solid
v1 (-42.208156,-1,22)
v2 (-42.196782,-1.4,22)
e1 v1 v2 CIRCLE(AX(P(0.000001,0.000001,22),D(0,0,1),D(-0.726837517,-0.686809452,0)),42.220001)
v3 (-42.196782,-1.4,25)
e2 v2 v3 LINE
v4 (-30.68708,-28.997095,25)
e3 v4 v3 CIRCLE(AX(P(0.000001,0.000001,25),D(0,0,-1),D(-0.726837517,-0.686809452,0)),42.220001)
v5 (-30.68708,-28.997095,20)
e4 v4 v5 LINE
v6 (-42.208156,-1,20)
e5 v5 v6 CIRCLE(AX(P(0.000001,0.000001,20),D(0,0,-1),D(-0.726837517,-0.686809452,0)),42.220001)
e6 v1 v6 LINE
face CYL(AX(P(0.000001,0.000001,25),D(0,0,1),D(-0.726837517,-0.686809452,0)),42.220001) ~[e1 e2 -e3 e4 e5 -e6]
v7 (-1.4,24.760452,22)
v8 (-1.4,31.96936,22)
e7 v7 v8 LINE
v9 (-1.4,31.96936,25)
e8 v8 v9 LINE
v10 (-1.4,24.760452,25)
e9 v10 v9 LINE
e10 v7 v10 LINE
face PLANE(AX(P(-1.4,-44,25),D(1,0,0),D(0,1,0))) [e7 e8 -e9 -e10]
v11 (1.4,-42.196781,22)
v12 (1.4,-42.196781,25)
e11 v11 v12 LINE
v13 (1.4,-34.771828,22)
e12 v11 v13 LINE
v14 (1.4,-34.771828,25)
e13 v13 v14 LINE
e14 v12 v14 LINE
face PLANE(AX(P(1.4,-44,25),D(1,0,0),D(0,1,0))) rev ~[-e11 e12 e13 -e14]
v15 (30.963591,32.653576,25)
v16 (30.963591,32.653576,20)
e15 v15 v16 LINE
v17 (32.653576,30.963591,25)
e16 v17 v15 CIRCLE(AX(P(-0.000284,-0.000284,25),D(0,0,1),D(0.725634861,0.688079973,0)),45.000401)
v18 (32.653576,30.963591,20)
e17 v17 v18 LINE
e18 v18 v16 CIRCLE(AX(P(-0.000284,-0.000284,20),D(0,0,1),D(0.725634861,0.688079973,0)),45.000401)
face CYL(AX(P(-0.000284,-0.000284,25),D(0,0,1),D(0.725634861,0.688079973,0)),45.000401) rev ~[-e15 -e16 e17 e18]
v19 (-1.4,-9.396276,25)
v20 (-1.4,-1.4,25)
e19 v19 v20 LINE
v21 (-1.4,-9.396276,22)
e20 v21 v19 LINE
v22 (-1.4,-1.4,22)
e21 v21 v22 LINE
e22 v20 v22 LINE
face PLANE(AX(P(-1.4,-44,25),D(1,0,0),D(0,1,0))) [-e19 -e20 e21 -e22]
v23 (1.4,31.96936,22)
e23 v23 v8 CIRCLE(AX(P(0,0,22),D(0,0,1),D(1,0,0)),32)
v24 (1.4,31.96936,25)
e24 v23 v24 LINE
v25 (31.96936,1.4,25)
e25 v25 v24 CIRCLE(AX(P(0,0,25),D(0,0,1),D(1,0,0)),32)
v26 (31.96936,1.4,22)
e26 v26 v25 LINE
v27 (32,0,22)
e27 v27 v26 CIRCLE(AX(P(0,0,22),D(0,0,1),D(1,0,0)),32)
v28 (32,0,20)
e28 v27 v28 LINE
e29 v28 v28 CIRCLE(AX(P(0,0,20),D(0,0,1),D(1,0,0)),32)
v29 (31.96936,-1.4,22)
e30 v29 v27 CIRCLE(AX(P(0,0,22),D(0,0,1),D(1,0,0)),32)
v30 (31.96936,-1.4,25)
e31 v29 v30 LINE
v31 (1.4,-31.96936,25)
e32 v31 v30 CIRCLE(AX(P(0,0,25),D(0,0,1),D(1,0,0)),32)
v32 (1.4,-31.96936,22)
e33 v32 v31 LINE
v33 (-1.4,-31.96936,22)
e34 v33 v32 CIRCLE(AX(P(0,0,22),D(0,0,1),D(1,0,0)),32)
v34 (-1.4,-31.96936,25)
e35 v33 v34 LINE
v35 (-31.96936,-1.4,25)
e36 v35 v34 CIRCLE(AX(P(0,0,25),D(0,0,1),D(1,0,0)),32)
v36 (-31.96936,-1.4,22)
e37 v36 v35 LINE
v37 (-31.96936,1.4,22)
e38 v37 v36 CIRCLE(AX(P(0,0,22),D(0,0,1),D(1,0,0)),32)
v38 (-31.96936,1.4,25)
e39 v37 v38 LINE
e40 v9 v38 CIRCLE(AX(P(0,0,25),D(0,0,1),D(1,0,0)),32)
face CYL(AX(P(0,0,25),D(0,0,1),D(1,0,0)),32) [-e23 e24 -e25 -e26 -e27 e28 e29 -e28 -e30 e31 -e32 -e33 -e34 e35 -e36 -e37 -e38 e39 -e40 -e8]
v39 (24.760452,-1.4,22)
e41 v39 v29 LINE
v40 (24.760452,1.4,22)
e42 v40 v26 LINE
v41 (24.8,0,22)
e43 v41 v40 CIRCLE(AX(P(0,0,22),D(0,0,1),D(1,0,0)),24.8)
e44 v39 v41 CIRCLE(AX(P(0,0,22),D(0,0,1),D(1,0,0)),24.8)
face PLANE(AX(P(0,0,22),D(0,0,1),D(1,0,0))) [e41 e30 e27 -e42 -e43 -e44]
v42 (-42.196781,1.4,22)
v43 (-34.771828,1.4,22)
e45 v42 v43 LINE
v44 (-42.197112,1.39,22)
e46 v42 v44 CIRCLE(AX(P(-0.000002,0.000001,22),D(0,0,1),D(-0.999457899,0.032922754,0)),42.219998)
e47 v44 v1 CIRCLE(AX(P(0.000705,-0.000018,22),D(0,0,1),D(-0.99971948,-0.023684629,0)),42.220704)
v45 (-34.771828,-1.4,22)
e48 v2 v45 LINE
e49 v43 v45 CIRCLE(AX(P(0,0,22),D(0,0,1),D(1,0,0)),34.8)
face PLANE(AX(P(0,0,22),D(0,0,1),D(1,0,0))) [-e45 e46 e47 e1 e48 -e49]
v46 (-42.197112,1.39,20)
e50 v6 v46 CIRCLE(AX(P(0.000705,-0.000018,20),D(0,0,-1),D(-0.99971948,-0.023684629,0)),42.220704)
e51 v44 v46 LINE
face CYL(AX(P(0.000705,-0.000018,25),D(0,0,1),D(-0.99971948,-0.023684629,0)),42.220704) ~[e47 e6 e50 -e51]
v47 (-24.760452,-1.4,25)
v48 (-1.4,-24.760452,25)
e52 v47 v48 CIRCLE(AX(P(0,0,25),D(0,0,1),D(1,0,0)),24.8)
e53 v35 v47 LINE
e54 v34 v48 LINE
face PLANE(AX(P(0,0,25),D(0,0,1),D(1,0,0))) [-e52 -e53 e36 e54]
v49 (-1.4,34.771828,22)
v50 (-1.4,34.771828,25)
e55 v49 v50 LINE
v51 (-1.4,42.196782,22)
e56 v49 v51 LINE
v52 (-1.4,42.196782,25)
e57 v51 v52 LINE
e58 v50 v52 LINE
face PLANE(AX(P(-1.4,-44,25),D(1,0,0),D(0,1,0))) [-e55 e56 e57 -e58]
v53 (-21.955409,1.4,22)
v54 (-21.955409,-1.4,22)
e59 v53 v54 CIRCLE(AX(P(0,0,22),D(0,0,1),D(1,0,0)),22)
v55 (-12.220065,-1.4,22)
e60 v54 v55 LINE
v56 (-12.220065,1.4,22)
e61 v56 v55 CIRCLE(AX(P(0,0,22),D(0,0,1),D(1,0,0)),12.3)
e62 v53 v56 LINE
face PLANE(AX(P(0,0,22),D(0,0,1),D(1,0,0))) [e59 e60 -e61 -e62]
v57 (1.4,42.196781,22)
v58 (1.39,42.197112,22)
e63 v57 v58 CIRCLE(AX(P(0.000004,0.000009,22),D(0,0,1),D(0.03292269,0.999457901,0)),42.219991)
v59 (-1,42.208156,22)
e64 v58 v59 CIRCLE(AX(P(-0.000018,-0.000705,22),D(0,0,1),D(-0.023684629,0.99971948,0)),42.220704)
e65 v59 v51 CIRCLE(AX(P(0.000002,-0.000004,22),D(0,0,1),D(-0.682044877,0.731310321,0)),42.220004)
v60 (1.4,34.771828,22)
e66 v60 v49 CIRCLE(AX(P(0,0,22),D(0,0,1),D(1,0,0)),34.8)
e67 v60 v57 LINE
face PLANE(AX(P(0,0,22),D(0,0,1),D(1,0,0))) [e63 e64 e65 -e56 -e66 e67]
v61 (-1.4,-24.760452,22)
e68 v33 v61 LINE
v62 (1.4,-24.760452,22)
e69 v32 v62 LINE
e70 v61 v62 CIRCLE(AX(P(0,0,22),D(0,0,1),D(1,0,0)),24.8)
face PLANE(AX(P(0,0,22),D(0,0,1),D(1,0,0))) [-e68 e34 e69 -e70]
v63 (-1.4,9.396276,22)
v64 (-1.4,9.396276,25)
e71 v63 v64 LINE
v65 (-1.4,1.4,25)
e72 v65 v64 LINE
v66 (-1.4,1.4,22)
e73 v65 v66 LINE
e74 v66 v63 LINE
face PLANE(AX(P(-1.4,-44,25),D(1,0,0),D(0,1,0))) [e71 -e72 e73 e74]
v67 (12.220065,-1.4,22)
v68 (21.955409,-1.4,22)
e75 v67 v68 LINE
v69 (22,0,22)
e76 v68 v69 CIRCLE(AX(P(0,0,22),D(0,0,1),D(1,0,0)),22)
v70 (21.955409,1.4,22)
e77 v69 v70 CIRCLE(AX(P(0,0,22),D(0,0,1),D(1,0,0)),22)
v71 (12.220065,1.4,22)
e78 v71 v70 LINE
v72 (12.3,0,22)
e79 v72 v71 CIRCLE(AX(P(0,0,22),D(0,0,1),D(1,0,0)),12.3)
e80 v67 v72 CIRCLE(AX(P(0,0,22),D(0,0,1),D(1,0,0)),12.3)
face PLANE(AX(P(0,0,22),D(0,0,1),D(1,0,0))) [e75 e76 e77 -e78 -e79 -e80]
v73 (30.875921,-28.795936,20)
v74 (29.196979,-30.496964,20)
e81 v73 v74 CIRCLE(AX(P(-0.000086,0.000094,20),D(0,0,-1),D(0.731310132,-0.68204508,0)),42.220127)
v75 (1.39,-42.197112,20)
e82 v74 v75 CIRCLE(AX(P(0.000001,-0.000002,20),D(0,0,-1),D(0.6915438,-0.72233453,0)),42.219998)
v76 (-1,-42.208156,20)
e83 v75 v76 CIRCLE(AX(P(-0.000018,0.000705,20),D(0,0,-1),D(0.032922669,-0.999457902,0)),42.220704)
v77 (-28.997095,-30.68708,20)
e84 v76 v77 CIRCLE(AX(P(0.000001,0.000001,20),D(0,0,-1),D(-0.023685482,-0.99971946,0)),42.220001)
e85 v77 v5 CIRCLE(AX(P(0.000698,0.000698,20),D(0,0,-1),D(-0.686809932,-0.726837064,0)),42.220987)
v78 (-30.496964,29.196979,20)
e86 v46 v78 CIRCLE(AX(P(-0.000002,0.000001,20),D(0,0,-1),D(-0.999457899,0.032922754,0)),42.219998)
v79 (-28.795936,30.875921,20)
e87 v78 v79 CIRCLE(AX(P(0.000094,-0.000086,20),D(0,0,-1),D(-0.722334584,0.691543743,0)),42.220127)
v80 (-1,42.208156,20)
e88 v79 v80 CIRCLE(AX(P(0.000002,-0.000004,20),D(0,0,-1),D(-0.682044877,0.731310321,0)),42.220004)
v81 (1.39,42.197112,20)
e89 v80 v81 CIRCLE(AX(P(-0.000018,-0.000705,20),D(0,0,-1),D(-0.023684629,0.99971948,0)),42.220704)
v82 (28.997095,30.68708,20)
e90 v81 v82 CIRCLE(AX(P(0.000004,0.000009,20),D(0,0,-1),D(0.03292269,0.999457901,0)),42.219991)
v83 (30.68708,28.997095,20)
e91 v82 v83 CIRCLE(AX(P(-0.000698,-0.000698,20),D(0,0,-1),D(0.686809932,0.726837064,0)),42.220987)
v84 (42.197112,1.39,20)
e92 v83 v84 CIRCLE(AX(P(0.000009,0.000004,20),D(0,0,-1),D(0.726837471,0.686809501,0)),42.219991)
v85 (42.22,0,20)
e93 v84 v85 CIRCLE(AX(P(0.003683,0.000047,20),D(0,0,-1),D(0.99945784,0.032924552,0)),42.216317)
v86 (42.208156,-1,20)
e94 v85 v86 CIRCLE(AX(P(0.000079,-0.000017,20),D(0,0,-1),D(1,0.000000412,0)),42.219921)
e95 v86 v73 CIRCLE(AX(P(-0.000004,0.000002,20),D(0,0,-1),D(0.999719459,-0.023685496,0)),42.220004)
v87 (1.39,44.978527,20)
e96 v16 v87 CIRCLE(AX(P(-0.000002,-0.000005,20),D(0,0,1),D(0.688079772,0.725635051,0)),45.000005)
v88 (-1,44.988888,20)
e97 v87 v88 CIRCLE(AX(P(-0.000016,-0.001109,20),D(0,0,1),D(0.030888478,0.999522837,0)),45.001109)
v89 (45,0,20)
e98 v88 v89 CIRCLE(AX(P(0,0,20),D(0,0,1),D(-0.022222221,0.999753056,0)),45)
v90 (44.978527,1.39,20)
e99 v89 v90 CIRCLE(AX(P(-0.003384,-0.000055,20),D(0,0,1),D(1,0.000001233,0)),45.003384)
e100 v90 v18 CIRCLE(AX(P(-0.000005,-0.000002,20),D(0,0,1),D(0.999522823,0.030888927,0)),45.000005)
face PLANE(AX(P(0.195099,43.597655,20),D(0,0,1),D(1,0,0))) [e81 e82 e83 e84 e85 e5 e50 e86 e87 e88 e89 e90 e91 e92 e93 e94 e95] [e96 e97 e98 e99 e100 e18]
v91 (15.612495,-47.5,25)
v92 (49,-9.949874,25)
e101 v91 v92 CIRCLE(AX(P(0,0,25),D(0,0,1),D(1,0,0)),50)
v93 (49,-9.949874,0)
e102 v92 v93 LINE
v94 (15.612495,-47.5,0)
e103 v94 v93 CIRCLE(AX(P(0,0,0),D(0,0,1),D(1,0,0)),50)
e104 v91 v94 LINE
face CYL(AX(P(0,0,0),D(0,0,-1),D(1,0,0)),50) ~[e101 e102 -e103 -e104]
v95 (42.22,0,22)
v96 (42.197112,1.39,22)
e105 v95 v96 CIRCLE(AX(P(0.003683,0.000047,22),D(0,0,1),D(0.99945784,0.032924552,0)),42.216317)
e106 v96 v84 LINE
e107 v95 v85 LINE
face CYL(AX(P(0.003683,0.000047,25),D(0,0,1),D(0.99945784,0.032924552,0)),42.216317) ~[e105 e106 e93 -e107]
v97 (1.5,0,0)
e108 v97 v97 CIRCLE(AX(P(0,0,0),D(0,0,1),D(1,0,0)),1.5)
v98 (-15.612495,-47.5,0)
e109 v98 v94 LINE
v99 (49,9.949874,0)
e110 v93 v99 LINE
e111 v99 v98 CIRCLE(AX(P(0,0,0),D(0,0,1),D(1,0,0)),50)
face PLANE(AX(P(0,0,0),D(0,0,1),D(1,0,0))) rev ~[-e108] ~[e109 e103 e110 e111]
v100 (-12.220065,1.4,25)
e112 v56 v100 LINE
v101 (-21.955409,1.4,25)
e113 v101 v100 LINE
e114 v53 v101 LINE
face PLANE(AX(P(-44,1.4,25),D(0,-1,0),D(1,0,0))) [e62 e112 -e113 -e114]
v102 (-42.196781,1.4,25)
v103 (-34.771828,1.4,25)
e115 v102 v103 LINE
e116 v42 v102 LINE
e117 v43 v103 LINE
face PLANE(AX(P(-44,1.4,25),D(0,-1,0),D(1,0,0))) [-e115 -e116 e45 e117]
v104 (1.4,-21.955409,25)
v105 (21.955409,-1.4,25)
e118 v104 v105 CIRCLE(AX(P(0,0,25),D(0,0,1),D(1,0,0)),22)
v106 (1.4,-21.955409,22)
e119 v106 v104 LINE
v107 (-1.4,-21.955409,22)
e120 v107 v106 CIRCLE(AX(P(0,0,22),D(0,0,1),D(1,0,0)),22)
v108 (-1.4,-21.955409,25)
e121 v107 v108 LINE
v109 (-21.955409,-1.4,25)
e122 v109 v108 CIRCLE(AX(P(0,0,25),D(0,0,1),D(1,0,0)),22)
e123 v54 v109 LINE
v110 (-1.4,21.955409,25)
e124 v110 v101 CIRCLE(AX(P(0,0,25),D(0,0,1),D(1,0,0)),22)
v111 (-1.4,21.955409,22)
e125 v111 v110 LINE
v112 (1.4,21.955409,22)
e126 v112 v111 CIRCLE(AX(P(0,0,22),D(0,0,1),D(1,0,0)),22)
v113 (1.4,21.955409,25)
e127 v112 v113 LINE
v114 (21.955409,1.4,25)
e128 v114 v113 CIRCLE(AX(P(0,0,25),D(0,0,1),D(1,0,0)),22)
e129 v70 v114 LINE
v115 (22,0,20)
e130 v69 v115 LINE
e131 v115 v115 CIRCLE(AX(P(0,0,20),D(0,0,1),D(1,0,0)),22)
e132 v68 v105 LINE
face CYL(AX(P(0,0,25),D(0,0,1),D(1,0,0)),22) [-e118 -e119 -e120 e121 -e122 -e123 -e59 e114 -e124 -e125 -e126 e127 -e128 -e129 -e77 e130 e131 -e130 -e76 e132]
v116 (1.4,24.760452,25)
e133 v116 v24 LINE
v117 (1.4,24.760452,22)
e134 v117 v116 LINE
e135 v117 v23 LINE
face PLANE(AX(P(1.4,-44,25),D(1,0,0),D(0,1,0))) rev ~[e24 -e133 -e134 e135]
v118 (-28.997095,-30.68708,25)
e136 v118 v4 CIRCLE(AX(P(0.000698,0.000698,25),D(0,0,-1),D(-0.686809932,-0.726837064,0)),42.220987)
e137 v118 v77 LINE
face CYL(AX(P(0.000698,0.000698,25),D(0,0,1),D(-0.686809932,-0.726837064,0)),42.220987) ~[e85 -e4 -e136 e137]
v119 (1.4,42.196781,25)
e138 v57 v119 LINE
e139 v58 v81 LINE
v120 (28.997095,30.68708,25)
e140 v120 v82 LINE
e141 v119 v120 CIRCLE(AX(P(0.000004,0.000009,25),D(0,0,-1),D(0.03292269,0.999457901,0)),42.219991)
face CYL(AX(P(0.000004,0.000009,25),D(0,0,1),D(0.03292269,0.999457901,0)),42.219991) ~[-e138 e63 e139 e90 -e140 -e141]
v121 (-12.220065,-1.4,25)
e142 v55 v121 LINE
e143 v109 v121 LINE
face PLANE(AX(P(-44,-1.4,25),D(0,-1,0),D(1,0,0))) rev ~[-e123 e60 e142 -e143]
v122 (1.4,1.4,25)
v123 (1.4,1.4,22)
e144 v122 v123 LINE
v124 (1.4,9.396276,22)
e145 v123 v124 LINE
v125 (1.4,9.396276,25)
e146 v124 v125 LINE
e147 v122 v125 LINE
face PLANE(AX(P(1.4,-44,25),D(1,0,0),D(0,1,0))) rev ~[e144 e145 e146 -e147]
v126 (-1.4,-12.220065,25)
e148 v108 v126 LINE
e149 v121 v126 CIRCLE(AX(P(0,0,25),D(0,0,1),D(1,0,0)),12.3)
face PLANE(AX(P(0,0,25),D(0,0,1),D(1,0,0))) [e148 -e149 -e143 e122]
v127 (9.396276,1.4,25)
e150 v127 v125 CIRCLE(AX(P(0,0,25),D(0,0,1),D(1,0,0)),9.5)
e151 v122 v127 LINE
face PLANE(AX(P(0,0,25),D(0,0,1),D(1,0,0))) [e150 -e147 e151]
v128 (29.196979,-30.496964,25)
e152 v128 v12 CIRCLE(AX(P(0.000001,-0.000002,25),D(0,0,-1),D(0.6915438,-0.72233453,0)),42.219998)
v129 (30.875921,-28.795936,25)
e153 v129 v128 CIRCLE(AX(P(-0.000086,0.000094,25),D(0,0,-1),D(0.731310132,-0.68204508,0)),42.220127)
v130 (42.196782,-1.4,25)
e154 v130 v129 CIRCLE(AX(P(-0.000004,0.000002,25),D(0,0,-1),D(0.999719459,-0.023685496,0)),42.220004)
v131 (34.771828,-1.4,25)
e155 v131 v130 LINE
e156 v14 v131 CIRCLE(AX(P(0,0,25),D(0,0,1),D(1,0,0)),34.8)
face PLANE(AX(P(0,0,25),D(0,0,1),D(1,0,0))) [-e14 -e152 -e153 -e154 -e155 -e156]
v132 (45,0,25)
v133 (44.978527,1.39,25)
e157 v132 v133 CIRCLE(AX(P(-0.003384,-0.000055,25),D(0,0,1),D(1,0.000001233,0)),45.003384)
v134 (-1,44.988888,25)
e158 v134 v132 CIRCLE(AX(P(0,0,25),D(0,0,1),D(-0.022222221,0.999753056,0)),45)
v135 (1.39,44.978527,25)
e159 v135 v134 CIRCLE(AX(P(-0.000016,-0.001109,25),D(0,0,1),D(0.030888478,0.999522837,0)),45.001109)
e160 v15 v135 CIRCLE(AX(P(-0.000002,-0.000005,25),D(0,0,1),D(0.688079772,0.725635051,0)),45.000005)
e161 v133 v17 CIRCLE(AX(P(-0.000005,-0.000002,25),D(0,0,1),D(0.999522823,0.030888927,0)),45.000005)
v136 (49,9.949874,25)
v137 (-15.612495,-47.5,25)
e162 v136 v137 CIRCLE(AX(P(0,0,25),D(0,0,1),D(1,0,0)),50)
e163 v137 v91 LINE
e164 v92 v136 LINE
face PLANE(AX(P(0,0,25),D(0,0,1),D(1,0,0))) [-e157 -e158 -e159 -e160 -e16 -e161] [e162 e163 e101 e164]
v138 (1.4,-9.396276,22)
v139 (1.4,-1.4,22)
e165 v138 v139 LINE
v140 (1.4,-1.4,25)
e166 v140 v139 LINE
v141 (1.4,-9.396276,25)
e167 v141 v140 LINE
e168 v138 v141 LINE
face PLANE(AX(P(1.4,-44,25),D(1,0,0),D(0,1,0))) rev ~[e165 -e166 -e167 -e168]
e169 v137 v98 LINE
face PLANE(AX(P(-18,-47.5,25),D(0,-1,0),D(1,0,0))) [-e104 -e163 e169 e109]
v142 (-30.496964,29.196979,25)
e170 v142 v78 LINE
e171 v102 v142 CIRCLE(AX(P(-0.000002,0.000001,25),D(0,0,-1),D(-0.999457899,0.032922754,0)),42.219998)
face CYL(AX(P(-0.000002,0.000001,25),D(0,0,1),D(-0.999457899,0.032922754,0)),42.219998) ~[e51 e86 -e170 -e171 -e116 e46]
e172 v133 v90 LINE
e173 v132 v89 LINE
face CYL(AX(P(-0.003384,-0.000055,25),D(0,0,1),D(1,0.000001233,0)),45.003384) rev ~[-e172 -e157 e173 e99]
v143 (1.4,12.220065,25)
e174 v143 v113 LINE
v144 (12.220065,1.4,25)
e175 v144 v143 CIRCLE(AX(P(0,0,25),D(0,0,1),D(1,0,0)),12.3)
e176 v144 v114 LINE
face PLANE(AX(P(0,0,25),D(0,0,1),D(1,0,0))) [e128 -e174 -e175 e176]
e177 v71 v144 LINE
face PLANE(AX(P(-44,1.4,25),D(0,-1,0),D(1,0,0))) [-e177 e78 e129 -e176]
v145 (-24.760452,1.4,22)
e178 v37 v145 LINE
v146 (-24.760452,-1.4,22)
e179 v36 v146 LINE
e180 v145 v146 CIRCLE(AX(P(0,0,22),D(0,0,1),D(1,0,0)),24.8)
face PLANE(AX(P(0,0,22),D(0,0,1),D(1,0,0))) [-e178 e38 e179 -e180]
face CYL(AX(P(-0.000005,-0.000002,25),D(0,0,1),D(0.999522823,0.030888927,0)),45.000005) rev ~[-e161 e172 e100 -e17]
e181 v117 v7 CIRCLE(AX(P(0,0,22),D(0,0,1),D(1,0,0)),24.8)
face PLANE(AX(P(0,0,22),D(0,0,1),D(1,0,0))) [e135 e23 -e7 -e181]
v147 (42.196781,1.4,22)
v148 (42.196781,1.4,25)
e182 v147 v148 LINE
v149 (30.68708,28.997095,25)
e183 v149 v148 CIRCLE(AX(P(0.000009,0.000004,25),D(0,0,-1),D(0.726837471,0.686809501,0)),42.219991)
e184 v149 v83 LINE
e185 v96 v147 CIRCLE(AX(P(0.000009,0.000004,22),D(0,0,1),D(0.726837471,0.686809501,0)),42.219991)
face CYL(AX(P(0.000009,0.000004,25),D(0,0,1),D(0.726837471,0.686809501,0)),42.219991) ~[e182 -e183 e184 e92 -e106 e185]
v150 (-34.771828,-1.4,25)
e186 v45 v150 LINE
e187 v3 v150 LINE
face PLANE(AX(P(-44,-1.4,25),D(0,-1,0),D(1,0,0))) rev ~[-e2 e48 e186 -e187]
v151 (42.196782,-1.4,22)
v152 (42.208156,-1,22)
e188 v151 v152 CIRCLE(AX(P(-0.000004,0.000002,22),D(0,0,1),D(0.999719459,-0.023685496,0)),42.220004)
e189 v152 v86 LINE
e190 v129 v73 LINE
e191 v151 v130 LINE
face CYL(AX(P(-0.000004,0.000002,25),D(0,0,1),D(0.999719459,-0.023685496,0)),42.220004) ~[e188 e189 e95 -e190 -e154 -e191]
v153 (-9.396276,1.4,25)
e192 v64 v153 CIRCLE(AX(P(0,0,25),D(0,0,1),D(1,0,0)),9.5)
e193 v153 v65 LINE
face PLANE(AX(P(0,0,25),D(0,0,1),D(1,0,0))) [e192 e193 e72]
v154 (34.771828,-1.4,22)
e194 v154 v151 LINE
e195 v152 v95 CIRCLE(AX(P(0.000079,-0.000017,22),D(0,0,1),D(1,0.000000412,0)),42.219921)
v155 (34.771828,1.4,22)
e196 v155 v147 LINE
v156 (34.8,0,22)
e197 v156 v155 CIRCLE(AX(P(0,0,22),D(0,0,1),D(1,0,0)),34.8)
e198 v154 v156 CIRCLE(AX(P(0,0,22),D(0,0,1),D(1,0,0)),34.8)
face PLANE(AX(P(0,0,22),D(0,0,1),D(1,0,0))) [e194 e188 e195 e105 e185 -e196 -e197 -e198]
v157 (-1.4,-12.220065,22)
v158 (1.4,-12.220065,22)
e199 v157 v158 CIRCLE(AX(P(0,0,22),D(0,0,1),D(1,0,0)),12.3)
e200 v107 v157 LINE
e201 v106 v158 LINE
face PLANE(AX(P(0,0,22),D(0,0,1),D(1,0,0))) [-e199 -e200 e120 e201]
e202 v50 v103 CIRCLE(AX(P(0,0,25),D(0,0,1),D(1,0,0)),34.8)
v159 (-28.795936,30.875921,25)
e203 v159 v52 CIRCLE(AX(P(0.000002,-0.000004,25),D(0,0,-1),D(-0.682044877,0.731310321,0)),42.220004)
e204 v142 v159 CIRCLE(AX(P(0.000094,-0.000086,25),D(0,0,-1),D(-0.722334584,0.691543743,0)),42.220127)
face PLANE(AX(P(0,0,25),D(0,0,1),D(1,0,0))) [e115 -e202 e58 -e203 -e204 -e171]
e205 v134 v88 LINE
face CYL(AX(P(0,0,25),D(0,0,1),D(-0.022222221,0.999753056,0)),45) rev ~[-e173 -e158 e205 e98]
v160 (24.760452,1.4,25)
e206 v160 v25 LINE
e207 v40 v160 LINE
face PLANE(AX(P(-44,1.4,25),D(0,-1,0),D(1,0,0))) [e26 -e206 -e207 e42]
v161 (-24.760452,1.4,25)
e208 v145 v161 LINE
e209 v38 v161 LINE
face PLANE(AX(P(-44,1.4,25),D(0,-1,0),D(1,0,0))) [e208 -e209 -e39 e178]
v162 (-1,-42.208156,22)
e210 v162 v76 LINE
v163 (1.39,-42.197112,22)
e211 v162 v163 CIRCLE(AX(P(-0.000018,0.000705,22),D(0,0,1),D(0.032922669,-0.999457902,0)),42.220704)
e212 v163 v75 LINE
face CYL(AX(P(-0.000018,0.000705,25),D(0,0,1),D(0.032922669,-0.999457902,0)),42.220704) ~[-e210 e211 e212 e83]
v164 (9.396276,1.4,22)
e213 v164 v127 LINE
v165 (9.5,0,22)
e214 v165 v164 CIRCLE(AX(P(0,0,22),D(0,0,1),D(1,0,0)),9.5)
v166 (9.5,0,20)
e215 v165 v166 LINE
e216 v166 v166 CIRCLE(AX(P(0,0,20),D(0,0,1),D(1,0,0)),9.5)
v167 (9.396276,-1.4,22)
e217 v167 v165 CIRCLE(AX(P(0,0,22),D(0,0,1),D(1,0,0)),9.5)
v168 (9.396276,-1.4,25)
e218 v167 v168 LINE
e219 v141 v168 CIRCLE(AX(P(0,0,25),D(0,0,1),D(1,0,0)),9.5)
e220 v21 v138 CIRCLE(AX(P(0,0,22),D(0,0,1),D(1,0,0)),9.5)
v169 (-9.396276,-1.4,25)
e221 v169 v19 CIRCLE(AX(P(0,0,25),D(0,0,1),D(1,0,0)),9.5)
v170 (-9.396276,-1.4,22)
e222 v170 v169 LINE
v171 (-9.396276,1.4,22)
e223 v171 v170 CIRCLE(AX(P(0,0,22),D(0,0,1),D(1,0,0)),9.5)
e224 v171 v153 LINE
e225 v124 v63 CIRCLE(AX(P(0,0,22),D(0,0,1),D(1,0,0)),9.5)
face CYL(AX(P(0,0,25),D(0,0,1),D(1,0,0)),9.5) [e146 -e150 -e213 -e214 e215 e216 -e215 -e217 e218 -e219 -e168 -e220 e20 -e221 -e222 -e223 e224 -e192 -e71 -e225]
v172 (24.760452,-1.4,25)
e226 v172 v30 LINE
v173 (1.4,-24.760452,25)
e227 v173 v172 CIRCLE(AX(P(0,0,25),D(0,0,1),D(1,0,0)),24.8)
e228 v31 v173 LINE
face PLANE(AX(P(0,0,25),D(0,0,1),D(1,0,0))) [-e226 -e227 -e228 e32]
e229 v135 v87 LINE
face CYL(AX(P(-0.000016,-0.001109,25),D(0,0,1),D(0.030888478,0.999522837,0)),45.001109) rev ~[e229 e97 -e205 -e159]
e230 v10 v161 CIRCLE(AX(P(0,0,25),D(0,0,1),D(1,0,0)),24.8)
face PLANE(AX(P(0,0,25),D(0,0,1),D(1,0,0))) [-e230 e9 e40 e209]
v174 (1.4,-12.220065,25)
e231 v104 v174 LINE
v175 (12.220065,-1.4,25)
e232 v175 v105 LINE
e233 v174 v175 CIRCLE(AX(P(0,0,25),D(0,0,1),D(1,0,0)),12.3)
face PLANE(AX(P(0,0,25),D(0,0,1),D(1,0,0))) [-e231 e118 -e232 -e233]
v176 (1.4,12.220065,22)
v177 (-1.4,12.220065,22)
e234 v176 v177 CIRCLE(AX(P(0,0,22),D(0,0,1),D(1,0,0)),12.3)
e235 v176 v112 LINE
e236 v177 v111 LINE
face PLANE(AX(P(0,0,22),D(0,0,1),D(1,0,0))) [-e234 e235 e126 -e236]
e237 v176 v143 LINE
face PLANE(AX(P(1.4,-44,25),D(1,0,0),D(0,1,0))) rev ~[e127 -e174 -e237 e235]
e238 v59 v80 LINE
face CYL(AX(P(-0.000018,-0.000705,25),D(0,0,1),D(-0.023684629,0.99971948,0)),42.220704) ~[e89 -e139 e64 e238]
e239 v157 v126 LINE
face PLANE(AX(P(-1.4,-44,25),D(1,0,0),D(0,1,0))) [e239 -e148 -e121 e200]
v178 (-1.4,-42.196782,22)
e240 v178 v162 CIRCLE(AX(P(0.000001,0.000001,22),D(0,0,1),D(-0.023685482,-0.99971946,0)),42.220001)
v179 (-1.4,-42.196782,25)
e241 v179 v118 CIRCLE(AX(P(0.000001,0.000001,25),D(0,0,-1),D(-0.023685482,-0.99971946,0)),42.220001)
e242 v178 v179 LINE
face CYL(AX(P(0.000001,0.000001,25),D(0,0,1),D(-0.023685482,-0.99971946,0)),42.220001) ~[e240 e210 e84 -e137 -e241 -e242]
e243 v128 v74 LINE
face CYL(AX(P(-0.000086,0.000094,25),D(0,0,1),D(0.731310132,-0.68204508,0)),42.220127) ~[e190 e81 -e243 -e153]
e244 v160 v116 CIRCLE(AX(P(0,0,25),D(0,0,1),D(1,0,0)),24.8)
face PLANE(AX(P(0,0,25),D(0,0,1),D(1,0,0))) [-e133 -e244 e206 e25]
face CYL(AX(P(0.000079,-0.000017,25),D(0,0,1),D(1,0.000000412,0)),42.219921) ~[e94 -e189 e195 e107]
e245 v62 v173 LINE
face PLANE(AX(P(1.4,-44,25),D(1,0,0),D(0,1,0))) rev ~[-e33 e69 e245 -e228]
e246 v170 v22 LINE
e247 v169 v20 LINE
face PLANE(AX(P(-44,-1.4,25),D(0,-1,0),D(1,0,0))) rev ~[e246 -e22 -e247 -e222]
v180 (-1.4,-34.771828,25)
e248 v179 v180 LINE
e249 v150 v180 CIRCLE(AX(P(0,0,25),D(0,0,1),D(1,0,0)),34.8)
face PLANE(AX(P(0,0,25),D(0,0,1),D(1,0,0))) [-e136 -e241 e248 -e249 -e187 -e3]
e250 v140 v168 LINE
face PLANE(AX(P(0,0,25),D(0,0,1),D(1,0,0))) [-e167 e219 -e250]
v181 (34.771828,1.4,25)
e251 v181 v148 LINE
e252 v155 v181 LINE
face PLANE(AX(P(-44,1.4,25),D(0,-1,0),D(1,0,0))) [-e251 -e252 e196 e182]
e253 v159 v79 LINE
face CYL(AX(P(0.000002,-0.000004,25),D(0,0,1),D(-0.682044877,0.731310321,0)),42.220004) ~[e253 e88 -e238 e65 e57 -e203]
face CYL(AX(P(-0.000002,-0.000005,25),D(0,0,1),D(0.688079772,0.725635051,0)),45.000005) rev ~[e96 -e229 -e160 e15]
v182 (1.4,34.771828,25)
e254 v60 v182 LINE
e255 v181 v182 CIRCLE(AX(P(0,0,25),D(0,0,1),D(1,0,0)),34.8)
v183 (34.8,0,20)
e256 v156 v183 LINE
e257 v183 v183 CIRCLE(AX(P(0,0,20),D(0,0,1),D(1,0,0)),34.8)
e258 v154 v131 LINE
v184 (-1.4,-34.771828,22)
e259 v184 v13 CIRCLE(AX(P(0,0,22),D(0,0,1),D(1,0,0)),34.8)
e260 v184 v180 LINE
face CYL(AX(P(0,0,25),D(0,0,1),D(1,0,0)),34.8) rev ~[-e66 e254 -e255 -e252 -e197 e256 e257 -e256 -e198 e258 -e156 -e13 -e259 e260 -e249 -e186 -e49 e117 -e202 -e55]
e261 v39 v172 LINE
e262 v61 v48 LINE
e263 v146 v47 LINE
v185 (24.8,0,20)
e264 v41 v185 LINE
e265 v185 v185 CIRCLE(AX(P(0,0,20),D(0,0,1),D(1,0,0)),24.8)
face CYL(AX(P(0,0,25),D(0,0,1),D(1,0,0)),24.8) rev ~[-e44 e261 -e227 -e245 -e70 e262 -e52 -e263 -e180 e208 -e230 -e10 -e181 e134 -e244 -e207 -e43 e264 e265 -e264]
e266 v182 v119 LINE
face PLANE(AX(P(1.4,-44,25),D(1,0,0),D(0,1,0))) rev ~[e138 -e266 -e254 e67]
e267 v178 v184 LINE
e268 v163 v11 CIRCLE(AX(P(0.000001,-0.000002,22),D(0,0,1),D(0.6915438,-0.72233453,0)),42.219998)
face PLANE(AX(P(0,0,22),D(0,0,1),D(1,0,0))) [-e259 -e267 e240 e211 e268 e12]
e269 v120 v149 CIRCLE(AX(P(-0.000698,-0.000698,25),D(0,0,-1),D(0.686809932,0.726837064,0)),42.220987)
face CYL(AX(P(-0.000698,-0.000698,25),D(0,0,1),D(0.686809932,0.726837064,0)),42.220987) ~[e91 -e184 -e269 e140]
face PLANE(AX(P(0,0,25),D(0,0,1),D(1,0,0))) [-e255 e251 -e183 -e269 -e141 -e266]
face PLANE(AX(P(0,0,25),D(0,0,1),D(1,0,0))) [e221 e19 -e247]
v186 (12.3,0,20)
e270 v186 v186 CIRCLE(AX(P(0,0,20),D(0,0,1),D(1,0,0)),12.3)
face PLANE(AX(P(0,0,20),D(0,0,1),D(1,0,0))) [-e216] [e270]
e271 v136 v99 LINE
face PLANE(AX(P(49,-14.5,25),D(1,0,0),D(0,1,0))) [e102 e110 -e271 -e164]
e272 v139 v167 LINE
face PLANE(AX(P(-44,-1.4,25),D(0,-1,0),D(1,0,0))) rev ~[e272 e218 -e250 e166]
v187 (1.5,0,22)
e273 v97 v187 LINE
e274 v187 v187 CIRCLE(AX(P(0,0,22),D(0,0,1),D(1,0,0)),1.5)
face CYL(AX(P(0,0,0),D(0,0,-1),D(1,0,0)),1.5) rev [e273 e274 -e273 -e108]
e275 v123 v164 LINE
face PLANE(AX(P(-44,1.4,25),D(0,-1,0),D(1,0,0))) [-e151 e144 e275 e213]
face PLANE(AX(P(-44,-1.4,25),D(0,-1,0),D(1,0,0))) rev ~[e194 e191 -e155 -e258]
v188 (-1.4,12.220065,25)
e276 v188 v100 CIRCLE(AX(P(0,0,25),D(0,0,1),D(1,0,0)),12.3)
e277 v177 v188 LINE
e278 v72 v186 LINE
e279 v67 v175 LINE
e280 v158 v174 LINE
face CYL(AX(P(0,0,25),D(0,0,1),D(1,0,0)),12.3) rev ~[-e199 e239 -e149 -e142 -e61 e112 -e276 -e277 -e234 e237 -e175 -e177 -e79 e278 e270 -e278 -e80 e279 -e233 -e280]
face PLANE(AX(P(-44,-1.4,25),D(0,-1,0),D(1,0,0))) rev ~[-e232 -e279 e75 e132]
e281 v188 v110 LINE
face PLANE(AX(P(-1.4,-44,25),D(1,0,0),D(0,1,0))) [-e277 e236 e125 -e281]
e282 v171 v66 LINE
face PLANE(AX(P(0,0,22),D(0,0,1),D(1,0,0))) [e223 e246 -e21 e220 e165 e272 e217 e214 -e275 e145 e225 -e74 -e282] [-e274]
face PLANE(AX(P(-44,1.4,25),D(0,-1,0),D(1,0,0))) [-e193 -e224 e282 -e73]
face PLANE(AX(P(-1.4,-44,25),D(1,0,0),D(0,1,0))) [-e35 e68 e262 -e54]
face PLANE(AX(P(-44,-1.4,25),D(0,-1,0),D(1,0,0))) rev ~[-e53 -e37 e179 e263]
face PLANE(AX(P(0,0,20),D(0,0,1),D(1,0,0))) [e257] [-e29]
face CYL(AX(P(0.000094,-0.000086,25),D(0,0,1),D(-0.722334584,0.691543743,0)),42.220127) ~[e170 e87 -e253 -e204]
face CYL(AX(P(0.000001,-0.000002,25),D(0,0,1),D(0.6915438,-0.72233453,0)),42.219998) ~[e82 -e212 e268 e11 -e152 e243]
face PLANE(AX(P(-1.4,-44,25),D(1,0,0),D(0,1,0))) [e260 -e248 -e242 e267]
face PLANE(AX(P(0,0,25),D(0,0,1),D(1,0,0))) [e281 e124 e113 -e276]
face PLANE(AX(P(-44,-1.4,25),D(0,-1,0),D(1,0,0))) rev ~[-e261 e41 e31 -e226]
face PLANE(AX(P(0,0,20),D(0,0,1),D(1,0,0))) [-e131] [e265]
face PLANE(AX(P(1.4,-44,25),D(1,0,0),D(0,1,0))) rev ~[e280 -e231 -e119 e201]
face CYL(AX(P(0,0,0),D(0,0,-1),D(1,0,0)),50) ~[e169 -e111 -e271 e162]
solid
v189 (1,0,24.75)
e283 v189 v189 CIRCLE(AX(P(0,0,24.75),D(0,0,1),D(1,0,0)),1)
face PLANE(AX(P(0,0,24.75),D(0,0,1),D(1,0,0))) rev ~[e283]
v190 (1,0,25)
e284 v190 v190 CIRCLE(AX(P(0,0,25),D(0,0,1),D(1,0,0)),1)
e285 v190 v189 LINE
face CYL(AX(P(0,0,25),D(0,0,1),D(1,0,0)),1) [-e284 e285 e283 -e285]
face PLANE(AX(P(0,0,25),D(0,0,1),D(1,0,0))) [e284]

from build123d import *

# Parameters (mm, degrees)
F0_R      = 50
F0_R_2    = 1.5
F1_DEPTH  = 25
F3_DEPTH  = 5
F4_R      = 12.3
F4_R_2    = 9.5
F5_DEPTH  = 5
F6_R      = 24.8
F6_R_2    = 22
F7_DEPTH  = 5
F8_R      = 34.8
F8_R_2    = 32
F9_DEPTH  = 5
F10_W     = 2.8
F10_H     = 88
F11_W     = 88
F11_H     = 2.8
F12_DEPTH = 3
F13_W     = 36
F13_H     = 5
F13_W_2   = 2
F13_H_2   = 29
F14_DEPTH = 25
F15_R     = 1
F16_DEPTH = 0.25


with BuildPart() as f1:
    # F0 (on Top) → F1 (new body)
    with BuildSketch(Plane.XY):
        Circle(F0_R)
        Circle(F0_R_2, mode=Mode.SUBTRACT)
    extrude(amount=F1_DEPTH)

    # F2 (on face) → F3 (cut)
    with BuildSketch(Plane.XY.offset(25)):
        with BuildLine():
            Line((1.39, 42.197112), (1.39, 44.978527))
            ThreePointArc((1.39, 44.978527), (0.195069, 44.999577), (-1, 44.988888))
            Line((-1, 44.988888), (-1, 42.208156))
            ThreePointArc((-1, 42.208156), (0.195078, 42.219549), (1.39, 42.197112))
        make_face()
        with BuildLine():
            ThreePointArc((30.963591, 32.653576), (17.310829, 41.537154), (1.39, 44.978527))
            Line((1.39, 44.978527), (1.39, 42.197112))
            ThreePointArc((1.39, 42.197112), (16.246972, 38.968761), (28.997095, 30.68708))
            Line((28.997095, 30.68708), (30.963591, 32.653576))
        make_face()
        with BuildLine():
            Line((-1, 42.208156), (-1, 44.988888))
            ThreePointArc((-1, 44.988888), (-31.464265, -32.171416), (45, 0))
            ThreePointArc((45, 0), (44.994631, 0.695083), (44.978527, 1.39))
            Line((44.978527, 1.39), (42.197112, 1.39))
            ThreePointArc((42.197112, 1.39), (42.214278, 0.695094), (42.22, 0))
            ThreePointArc((42.22, 0), (42.217039, -0.500035), (42.208156, -1))
            ThreePointArc((42.208156, -1), (39.095704, -15.939082), (30.875921, -28.795936))
            ThreePointArc((30.875921, -28.795936), (30.048489, -29.658333), (29.196979, -30.496964))
            ThreePointArc((29.196979, -30.496964), (16.374193, -38.915475), (1.39, -42.197112))
            ThreePointArc((1.39, -42.197112), (0.195078, -42.219549), (-1, -42.208156))
            ThreePointArc((-1, -42.208156), (-16.066743, -39.043414), (-28.997095, -30.68708))
            ThreePointArc((-28.997095, -30.68708), (-29.854048, -29.854048), (-30.68708, -28.997095))
            ThreePointArc((-30.68708, -28.997095), (-39.043414, -16.066743), (-42.208156, -1))
            ThreePointArc((-42.208156, -1), (-42.219549, 0.195078), (-42.197112, 1.39))
            ThreePointArc((-42.197112, 1.39), (-38.915475, 16.374193), (-30.496964, 29.196979))
            ThreePointArc((-30.496964, 29.196979), (-29.658333, 30.048489), (-28.795936, 30.875921))
            ThreePointArc((-28.795936, 30.875921), (-15.939082, 39.095704), (-1, 42.208156))
        make_face()
        with BuildLine():
            ThreePointArc((32.653576, 30.963591), (31.819805, 31.819805), (30.963591, 32.653576))
            Line((30.963591, 32.653576), (28.997095, 30.68708))
            ThreePointArc((28.997095, 30.68708), (29.854048, 29.854048), (30.68708, 28.997095))
            Line((30.68708, 28.997095), (32.653576, 30.963591))
        make_face()
        with BuildLine():
            ThreePointArc((44.978527, 1.39), (41.537154, 17.310829), (32.653576, 30.963591))
            Line((32.653576, 30.963591), (30.68708, 28.997095))
            ThreePointArc((30.68708, 28.997095), (38.968761, 16.246972), (42.197112, 1.39))
            Line((42.197112, 1.39), (44.978527, 1.39))
        make_face()
    extrude(amount=-F3_DEPTH, mode=Mode.SUBTRACT)

    # F4 (on face) → F5 (cut)
    with BuildSketch(Plane.XY.offset(25)):
        Circle(F4_R)
        Circle(F4_R_2, mode=Mode.SUBTRACT)
    extrude(amount=-F5_DEPTH, mode=Mode.SUBTRACT)

    # F6 (on face) → F7 (cut)
    with BuildSketch(Plane.XY.offset(25)):
        Circle(F6_R)
        Circle(F6_R_2, mode=Mode.SUBTRACT)
    extrude(amount=-F7_DEPTH, mode=Mode.SUBTRACT)

    # F8 (on face) → F9 (cut)
    with BuildSketch(Plane.XY.offset(25)):
        Circle(F8_R)
        Circle(F8_R_2, mode=Mode.SUBTRACT)
    extrude(amount=-F9_DEPTH, mode=Mode.SUBTRACT)

    # F10 (on face) + F11 (on face) → F12 (cut)
    with BuildSketch(Plane.XY.offset(25)):
        Rectangle(F10_W, F10_H)
    with BuildSketch(Plane.XY.offset(25)):
        Rectangle(F11_W, F11_H)
    extrude(amount=-F12_DEPTH, mode=Mode.SUBTRACT)

    # F13 (on face) → F14 (cut)
    with BuildSketch(Plane.XY.offset(25)):
        with Locations((0, -50)):
            Rectangle(F13_W, F13_H)
        with Locations((50, 0)):
            Rectangle(F13_W_2, F13_H_2)
    extrude(amount=-F14_DEPTH, mode=Mode.SUBTRACT)


with BuildPart() as f16:
    # F15 (on face) → F16 (new body)
    with BuildSketch(Plane.XY.offset(25)):
        Circle(F15_R)
    extrude(amount=-F16_DEPTH)


solid = Compound([f1.part, f16.part])
